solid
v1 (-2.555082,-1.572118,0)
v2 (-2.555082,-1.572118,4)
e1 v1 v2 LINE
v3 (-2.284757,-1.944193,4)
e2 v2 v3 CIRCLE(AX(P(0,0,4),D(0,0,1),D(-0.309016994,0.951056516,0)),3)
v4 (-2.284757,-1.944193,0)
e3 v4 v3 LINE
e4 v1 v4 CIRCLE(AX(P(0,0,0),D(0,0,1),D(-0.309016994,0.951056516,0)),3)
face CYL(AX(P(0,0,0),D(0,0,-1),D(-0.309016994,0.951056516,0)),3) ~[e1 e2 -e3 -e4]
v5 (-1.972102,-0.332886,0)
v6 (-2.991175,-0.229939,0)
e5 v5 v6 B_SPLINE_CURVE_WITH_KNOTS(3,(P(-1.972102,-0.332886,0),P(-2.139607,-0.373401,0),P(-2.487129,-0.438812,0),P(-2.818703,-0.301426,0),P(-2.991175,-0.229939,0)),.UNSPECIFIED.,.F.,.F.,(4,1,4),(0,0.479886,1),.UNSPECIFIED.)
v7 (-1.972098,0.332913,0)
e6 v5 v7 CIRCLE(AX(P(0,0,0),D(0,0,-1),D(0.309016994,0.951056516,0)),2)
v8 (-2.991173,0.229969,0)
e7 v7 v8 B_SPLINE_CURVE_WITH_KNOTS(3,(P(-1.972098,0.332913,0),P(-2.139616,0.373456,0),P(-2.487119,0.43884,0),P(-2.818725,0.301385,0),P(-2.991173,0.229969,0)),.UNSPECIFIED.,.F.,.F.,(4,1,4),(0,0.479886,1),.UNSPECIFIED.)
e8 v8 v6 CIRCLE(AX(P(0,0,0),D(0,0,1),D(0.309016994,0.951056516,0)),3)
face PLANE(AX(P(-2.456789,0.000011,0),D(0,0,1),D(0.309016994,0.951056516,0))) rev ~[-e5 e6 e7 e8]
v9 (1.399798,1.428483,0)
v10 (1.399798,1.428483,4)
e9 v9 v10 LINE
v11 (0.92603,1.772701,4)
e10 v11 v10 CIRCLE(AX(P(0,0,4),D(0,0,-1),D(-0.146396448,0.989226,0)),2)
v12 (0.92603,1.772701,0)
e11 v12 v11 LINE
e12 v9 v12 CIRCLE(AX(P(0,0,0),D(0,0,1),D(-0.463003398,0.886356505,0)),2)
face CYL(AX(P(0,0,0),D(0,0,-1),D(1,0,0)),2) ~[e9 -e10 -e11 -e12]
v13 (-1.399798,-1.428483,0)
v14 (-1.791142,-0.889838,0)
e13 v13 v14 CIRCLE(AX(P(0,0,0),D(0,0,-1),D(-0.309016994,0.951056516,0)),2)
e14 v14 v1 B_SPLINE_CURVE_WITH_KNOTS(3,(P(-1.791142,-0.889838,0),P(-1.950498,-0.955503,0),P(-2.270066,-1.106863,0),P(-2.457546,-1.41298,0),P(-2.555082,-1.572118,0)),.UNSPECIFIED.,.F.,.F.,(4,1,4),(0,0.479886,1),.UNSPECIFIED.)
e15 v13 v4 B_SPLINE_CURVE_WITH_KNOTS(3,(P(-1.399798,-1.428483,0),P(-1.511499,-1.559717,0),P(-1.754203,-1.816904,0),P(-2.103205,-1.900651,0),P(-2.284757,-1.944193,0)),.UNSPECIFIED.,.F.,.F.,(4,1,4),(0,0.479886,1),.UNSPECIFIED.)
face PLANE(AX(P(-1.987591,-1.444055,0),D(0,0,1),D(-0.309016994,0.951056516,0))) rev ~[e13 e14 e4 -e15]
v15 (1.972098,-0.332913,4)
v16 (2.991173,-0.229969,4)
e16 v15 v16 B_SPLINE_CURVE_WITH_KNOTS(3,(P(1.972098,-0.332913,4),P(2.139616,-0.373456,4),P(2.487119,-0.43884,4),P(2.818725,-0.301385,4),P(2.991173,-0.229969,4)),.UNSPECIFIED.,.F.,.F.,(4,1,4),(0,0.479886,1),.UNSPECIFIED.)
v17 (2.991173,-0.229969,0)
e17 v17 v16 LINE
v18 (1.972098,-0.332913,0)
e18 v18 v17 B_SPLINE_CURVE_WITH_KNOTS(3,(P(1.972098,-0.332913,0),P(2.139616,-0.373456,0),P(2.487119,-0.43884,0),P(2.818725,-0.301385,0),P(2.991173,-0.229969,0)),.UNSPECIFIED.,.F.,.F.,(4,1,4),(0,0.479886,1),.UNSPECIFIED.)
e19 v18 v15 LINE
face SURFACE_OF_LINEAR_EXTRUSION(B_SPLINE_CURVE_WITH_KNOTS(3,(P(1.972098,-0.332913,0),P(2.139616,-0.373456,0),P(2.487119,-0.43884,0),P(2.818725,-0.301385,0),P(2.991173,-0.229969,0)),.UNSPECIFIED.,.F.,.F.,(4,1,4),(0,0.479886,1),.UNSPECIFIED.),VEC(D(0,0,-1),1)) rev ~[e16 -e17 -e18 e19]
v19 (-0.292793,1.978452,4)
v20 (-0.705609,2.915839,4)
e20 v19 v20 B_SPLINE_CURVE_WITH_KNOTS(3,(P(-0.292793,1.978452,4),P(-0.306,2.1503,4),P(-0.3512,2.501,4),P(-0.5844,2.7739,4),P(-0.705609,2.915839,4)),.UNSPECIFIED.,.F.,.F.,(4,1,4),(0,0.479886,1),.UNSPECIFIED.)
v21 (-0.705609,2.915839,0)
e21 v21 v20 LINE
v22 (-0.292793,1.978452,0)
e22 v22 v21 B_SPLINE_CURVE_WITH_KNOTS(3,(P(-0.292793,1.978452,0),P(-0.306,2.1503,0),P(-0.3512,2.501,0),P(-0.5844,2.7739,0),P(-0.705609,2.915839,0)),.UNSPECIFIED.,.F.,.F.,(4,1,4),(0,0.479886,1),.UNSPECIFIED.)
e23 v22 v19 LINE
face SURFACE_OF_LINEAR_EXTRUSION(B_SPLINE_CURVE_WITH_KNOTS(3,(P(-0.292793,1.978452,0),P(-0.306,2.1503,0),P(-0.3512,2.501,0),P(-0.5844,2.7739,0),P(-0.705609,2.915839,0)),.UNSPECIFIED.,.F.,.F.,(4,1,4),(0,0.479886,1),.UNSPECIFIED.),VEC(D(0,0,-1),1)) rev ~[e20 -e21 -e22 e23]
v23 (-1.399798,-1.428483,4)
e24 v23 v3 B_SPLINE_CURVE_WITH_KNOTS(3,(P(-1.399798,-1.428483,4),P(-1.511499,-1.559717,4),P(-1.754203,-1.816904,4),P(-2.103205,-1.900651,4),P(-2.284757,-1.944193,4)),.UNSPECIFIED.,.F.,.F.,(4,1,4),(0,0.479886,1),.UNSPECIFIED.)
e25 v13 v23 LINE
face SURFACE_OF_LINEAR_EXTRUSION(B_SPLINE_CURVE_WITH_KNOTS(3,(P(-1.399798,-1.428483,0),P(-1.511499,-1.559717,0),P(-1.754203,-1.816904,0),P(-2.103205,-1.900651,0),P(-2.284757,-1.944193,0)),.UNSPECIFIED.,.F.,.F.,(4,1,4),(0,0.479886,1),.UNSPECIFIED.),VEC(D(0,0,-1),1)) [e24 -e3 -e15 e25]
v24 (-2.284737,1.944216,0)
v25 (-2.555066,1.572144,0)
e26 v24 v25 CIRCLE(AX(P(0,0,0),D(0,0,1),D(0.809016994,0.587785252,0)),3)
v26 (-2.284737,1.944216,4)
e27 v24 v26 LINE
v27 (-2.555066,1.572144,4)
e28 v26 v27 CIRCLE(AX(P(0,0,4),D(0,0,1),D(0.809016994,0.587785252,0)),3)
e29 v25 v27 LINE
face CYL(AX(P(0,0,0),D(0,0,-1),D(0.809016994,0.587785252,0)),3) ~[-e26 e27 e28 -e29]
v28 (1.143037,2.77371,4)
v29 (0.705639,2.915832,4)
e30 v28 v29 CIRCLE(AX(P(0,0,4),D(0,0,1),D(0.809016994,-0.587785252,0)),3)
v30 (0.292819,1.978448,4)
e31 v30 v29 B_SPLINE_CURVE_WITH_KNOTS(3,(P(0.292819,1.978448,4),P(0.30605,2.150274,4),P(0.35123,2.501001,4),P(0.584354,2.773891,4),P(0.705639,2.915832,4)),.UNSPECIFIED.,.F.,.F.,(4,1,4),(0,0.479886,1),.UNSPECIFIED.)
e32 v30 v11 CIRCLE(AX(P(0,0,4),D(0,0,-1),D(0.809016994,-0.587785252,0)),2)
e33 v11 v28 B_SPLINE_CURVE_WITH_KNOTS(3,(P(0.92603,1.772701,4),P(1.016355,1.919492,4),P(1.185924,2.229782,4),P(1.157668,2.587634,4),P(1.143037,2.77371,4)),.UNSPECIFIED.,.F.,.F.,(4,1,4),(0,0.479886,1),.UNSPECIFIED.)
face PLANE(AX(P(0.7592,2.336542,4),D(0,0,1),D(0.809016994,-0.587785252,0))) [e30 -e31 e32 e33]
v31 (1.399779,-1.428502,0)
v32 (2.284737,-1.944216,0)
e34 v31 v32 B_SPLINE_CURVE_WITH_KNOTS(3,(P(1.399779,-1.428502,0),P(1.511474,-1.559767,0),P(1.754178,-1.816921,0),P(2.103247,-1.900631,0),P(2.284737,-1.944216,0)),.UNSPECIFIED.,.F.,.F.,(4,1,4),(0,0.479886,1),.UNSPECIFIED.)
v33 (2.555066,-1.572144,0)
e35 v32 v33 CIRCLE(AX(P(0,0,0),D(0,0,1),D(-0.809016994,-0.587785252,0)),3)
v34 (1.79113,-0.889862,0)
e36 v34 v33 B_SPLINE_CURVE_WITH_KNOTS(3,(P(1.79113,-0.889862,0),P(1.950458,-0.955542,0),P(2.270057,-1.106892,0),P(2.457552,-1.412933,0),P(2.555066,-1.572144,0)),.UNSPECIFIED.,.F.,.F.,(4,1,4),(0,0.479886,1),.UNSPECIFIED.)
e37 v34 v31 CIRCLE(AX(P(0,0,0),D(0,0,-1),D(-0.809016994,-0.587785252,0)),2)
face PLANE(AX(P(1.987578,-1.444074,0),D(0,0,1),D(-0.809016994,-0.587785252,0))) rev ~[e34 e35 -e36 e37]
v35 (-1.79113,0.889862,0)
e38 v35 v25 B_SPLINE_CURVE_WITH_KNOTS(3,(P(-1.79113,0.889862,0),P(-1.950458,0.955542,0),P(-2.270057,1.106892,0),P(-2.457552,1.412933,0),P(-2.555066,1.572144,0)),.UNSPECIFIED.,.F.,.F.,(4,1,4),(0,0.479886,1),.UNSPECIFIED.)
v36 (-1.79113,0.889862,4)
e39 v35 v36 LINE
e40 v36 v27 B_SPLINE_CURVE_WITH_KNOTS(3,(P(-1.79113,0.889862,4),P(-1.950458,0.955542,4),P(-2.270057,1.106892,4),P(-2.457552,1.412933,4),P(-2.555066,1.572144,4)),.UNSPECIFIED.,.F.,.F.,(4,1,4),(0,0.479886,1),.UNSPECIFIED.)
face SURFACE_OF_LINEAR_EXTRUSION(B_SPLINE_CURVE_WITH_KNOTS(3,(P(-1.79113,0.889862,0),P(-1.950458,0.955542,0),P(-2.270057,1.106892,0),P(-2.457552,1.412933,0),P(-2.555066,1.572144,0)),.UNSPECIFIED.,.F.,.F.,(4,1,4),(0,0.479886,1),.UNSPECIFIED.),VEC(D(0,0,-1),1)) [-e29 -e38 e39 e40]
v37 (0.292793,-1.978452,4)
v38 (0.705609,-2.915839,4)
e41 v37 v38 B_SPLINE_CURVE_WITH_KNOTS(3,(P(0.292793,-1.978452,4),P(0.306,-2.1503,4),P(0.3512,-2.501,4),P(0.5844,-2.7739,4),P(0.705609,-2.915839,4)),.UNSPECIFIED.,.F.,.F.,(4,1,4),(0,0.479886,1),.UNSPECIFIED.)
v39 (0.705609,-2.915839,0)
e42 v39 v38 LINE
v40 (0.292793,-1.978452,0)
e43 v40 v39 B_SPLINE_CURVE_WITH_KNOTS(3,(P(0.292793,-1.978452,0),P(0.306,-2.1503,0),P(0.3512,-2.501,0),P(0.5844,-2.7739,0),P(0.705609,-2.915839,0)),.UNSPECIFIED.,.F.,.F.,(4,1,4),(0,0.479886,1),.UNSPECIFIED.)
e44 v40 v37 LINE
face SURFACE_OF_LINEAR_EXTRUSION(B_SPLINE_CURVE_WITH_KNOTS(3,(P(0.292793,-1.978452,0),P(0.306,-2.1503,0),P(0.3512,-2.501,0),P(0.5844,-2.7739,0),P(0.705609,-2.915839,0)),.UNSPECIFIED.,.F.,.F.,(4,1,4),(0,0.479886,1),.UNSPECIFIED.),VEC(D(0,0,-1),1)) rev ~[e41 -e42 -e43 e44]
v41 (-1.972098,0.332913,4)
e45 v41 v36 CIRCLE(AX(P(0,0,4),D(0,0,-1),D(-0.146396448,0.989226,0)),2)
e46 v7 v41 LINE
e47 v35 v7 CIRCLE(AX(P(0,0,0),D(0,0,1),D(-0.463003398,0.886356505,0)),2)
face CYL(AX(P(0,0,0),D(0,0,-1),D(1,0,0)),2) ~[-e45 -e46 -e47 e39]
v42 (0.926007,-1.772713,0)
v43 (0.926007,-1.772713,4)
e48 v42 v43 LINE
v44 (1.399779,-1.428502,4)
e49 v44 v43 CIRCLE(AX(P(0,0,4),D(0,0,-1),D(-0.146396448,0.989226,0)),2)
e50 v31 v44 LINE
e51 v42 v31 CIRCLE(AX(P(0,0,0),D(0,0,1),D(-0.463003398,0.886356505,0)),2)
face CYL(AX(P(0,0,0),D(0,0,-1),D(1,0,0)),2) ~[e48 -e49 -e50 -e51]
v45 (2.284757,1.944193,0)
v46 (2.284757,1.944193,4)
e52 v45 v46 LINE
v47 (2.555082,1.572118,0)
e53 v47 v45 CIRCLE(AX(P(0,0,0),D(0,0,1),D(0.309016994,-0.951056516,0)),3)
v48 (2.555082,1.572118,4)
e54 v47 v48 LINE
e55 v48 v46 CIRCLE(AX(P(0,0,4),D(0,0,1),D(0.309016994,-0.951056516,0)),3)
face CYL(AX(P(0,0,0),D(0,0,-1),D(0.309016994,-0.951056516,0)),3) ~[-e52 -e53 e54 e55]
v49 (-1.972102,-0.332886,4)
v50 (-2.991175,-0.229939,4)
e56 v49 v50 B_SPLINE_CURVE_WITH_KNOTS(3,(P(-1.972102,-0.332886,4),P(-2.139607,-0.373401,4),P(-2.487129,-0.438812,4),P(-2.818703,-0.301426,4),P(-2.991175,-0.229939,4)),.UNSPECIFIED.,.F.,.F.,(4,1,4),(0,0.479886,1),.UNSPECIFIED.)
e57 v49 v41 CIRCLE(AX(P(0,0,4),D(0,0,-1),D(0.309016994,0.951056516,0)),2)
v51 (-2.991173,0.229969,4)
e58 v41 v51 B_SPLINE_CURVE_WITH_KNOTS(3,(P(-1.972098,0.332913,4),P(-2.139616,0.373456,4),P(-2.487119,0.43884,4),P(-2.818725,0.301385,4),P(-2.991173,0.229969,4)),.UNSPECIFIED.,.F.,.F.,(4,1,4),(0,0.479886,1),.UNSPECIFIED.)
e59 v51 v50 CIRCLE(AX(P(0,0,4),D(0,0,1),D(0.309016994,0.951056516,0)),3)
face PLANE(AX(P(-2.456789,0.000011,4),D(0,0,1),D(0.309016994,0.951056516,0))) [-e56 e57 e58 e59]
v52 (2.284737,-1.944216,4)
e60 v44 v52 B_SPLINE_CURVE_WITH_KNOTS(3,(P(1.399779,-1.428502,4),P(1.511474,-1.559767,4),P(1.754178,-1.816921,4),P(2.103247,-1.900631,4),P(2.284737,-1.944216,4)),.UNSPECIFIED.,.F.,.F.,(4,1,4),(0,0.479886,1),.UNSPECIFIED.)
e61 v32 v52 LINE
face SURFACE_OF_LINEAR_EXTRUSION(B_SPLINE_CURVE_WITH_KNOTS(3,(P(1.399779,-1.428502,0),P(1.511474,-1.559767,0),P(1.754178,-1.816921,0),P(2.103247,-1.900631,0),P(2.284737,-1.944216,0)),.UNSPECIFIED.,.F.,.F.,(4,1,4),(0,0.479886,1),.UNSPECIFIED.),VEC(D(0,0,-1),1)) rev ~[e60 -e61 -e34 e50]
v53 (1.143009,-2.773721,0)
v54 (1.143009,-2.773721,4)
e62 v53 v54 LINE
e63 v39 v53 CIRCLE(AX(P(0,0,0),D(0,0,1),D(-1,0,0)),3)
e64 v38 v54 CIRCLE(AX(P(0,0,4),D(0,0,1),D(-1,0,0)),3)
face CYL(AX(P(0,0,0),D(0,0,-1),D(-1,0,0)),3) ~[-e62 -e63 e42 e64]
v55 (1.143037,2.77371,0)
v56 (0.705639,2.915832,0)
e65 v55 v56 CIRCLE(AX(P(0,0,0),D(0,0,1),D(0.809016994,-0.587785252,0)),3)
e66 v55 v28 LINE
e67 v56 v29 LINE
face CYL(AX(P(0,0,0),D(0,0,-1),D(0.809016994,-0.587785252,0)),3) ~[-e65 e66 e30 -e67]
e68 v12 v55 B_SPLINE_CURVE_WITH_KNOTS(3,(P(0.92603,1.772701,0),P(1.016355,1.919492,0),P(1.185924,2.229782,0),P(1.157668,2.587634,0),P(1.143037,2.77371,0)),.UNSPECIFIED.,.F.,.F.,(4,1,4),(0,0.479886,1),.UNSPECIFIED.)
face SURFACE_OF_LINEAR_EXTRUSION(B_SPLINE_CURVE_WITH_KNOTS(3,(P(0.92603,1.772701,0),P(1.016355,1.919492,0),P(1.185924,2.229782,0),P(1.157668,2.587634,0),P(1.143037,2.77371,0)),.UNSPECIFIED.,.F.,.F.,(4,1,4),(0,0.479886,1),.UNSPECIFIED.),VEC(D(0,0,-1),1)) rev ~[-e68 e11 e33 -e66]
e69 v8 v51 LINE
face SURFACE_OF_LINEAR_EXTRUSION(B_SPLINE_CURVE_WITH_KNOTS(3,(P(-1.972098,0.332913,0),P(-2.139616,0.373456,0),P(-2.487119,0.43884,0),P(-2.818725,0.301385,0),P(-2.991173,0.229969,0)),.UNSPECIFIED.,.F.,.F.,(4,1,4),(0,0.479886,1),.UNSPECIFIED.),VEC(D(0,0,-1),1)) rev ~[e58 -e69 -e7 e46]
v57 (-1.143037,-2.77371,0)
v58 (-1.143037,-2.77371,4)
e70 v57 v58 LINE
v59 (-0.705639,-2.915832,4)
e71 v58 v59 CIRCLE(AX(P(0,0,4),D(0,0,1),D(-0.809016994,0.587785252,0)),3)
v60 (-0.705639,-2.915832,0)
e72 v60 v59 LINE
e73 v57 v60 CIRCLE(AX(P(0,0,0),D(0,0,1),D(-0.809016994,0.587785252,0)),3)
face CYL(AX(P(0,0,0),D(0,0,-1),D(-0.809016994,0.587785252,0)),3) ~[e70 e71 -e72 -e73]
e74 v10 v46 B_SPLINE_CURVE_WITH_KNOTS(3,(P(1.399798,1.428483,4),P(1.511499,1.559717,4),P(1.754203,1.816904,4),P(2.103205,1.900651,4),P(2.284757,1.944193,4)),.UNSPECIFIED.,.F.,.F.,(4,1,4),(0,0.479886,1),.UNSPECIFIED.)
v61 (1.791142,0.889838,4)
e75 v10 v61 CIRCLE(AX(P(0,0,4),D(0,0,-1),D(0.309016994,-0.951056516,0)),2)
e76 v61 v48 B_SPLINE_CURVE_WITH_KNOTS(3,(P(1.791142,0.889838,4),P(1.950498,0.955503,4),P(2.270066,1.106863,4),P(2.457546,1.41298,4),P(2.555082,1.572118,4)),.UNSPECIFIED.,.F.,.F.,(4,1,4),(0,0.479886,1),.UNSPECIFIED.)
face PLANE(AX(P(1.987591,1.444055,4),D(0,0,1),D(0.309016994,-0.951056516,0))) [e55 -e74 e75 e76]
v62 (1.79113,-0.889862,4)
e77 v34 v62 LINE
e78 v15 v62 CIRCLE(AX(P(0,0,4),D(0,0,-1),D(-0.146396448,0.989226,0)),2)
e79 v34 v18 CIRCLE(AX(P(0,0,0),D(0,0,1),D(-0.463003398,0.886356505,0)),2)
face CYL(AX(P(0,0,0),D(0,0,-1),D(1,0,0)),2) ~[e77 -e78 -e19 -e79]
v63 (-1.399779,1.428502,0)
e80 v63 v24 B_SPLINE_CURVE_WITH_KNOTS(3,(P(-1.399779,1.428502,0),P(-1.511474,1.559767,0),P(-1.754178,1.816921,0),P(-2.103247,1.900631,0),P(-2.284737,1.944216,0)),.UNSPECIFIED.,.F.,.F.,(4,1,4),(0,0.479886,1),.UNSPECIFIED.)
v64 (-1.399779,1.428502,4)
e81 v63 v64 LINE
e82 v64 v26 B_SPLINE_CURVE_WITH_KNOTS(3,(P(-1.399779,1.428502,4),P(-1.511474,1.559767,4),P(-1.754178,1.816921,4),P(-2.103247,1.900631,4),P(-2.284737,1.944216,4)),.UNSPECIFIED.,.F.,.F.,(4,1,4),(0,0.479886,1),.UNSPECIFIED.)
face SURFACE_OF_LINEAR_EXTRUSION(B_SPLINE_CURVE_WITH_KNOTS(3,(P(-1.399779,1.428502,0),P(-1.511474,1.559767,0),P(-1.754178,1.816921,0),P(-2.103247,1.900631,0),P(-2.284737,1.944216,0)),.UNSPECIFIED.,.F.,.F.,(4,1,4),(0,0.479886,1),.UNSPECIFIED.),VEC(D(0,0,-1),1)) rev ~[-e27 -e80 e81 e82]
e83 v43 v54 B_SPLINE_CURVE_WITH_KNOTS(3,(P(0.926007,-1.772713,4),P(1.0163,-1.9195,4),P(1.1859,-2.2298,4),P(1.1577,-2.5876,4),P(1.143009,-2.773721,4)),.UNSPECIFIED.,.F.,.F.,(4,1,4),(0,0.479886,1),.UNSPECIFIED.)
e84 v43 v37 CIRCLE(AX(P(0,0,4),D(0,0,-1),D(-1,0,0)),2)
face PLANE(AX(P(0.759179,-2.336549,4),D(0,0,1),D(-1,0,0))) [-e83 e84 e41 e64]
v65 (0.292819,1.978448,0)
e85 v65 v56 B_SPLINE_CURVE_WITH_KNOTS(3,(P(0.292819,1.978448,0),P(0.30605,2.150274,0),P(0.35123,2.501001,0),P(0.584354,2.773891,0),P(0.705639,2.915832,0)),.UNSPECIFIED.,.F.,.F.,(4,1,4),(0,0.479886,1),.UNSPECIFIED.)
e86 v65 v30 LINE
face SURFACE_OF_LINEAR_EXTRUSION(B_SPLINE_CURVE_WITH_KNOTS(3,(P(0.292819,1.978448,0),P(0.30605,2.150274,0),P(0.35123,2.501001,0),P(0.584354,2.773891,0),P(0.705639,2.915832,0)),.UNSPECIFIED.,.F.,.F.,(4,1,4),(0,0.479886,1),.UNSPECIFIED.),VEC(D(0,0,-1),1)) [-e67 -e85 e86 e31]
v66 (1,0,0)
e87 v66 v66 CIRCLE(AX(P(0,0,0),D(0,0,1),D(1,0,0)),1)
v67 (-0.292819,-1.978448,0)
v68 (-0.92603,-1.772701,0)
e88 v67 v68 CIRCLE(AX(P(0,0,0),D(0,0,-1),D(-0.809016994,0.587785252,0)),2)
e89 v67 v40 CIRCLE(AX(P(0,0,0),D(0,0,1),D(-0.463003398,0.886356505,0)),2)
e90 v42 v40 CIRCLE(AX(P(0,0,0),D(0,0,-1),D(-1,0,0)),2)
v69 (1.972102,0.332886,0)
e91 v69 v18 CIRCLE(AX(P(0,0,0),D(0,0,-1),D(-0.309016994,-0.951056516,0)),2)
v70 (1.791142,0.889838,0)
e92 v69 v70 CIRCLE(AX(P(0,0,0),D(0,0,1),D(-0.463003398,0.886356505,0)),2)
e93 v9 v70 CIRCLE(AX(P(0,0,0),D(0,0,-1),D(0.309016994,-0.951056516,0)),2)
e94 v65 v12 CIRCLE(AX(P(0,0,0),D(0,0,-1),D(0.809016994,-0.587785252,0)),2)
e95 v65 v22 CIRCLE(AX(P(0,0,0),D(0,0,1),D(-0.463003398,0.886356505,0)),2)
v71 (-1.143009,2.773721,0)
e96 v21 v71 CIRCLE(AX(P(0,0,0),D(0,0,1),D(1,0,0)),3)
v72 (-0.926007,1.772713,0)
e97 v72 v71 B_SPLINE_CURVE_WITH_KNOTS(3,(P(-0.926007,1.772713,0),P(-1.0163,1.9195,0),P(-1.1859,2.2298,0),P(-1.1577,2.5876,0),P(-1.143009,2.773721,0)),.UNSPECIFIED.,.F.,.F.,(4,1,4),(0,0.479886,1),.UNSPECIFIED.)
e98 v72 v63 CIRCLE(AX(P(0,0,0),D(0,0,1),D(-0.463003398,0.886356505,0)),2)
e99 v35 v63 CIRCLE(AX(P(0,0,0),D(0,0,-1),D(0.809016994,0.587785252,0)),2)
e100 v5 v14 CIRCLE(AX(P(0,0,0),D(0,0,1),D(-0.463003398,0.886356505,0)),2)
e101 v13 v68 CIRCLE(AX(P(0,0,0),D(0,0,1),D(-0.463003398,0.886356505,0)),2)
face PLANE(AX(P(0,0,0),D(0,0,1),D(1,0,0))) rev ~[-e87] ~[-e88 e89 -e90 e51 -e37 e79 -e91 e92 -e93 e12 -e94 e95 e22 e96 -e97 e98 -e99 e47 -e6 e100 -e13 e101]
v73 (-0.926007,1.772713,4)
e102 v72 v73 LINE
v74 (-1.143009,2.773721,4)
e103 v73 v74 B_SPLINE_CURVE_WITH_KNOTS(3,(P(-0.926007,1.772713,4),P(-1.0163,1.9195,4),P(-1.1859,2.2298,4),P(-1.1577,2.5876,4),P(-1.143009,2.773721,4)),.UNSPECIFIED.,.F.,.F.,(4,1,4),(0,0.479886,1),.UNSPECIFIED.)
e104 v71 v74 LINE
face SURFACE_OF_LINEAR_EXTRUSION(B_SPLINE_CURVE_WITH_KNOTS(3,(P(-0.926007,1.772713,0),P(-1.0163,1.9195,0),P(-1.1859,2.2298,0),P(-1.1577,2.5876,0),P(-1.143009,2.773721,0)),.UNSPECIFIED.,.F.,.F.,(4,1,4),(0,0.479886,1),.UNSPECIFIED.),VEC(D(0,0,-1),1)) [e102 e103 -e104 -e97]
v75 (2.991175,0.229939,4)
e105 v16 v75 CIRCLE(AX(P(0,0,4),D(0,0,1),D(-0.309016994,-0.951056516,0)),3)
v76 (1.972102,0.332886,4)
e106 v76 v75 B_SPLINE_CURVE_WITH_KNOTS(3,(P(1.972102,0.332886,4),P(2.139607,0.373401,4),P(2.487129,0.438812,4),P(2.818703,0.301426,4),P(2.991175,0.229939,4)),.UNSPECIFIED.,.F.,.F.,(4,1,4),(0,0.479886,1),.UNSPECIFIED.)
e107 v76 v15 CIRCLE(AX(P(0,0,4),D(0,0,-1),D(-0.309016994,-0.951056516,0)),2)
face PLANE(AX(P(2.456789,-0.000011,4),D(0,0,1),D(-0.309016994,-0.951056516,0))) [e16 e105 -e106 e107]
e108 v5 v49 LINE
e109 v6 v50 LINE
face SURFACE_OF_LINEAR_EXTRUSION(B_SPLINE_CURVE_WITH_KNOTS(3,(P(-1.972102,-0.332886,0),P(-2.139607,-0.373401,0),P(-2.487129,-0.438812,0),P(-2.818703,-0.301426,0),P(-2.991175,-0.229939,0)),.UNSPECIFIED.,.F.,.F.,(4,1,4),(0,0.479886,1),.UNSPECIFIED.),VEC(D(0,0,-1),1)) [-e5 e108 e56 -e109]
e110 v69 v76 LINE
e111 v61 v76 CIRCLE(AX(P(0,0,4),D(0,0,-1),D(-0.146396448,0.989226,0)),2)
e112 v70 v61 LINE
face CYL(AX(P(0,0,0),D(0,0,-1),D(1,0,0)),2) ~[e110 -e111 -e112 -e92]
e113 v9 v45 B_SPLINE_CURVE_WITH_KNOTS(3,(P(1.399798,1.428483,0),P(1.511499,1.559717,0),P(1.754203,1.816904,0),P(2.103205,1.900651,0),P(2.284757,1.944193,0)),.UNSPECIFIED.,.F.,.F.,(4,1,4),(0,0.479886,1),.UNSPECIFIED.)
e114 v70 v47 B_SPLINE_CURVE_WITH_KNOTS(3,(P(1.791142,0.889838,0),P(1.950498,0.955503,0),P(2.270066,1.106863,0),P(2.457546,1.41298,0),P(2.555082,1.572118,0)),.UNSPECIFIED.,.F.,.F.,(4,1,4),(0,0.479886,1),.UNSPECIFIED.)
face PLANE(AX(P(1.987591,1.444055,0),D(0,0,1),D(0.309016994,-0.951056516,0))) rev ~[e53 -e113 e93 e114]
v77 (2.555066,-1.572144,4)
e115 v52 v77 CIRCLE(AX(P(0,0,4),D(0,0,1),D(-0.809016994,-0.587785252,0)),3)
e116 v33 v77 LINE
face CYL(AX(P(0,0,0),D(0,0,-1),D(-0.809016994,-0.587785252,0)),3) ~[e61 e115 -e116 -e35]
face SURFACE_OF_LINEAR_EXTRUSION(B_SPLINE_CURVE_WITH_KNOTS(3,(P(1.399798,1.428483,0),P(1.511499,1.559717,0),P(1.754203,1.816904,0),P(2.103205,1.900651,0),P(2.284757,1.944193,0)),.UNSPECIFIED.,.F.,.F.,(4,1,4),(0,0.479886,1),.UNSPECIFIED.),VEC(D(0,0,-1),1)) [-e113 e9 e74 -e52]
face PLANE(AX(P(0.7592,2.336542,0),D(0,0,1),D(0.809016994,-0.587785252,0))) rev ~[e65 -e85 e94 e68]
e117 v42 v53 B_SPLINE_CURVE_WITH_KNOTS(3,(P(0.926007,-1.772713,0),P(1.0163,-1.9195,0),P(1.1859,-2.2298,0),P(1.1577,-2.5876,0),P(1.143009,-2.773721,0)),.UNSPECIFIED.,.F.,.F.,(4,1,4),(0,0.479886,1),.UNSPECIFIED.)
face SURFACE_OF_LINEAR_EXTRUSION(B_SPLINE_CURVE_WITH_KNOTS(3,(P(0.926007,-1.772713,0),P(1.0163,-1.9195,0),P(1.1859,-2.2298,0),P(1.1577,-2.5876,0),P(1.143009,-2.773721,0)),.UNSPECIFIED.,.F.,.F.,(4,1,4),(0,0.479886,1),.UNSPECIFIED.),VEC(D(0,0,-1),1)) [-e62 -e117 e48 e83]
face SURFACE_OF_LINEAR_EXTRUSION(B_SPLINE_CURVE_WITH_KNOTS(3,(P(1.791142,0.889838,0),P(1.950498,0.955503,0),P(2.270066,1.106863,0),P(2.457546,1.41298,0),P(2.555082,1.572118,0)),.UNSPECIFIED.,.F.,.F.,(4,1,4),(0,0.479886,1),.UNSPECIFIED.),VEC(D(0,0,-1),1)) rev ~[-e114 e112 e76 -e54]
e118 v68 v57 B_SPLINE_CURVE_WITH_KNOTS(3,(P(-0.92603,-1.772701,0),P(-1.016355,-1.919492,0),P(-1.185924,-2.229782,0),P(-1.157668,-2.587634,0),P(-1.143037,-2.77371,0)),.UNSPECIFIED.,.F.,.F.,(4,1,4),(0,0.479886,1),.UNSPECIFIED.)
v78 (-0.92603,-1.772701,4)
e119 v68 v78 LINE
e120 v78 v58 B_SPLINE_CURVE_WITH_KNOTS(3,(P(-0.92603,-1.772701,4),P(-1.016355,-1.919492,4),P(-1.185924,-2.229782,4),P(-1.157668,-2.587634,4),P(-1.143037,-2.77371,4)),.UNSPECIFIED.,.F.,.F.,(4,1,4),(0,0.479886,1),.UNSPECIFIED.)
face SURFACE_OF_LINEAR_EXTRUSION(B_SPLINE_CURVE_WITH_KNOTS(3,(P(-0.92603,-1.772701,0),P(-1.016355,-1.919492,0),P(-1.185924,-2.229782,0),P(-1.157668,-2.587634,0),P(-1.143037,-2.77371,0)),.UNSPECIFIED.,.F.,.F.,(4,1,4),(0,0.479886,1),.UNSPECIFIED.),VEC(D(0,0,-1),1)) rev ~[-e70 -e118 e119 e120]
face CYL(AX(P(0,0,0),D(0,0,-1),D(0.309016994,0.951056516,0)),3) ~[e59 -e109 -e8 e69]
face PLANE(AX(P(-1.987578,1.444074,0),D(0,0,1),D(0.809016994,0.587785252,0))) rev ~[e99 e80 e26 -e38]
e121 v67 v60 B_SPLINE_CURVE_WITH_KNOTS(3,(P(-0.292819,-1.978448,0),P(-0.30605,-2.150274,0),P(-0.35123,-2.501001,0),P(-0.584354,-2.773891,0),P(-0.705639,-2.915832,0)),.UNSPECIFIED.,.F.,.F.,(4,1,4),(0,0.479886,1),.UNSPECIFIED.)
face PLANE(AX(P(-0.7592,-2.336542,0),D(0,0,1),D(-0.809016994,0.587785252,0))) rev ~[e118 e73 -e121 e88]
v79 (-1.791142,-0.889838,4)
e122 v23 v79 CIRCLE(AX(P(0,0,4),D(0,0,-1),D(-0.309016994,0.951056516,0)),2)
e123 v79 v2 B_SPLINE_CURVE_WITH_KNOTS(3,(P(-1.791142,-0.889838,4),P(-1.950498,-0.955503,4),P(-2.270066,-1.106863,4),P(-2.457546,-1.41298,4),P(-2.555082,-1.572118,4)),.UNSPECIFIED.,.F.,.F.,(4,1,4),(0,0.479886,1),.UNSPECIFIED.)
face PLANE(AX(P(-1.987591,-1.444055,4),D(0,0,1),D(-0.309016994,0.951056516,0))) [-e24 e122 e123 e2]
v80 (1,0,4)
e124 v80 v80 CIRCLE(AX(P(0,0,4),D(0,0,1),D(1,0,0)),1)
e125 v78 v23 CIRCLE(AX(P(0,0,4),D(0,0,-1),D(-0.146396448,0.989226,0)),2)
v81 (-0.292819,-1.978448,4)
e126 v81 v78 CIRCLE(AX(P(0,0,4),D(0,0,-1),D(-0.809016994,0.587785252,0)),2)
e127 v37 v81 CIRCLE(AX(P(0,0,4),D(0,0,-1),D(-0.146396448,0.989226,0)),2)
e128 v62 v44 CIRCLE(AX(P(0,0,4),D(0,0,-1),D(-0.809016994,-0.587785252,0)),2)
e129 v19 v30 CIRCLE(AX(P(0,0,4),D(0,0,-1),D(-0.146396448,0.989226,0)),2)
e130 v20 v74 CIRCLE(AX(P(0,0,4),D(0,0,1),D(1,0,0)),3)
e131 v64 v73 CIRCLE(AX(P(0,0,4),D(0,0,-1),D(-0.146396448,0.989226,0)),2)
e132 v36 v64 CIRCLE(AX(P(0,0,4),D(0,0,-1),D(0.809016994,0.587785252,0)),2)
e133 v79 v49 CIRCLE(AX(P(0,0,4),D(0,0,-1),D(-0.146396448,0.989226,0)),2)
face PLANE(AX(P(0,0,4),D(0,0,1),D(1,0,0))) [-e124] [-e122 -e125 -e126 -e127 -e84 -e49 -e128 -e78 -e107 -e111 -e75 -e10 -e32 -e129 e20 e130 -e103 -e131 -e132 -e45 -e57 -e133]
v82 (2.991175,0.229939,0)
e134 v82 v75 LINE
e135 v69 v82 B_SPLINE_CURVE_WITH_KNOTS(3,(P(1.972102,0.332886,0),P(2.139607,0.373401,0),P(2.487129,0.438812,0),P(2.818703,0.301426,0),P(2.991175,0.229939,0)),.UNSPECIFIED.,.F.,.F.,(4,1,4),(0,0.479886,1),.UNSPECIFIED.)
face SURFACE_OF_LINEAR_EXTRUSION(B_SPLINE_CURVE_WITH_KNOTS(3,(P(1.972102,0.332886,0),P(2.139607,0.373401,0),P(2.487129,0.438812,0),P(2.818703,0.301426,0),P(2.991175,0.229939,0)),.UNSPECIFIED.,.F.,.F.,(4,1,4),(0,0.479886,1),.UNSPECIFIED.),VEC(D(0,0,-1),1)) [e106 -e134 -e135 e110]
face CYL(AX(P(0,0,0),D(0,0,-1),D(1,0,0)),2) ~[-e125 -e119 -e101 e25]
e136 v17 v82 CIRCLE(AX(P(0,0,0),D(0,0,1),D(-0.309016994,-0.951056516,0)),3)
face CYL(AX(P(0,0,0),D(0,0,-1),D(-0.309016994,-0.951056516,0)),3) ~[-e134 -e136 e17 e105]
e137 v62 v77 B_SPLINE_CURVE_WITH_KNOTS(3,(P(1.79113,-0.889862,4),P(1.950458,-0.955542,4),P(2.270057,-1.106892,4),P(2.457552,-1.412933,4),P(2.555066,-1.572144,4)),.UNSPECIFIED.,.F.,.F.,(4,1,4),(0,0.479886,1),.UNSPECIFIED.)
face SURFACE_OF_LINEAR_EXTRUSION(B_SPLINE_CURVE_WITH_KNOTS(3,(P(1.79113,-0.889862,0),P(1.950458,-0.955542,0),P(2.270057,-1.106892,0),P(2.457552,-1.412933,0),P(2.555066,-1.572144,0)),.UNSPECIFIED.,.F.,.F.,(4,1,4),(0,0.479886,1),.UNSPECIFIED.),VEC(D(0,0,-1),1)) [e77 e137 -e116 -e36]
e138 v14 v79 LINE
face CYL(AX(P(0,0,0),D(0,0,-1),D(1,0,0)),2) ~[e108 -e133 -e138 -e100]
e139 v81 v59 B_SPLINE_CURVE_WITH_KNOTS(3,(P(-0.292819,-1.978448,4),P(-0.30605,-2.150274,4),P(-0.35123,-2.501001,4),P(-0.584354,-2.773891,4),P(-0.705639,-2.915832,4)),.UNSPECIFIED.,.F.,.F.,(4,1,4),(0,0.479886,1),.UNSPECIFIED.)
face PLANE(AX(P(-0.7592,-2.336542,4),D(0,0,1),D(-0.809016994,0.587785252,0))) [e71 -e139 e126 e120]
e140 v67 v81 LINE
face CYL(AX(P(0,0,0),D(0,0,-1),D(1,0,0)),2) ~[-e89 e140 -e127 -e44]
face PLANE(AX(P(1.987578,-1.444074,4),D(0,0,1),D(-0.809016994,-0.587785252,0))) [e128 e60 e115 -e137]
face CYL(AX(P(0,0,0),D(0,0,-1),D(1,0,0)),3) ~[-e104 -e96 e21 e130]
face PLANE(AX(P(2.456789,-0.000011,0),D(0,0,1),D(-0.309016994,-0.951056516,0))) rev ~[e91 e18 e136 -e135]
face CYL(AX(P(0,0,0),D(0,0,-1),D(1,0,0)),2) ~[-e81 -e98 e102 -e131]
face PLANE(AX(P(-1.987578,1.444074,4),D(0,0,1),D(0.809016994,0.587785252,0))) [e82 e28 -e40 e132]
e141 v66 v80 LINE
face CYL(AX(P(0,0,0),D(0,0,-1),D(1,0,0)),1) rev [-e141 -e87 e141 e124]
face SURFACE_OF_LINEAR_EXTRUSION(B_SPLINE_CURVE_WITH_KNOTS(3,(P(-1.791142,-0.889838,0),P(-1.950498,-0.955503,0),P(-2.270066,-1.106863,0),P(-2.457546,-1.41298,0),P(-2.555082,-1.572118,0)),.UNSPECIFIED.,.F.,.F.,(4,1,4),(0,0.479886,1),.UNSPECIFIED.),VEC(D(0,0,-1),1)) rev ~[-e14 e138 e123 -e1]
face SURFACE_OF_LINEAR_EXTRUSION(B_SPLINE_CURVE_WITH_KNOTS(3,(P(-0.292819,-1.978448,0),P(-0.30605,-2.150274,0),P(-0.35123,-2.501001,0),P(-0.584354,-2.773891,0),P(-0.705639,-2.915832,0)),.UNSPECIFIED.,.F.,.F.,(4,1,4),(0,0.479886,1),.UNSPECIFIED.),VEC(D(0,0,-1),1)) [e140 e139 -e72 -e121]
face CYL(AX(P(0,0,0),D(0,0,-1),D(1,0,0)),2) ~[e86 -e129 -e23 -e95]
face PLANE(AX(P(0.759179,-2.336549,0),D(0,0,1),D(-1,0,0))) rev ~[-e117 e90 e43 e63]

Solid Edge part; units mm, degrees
sketch "Sketch1" plane through (0, 0, 0) normal (0, 0, 1) x (1, 0, 0)
  spline S0 degree 3 poles (-0.2928, 1.9785) (-0.306, 2.1503) (-0.3512, 2.501) (-0.5844, 2.7739) (-0.7056, 2.9158) knots 0 0 0 0 0.479886 1 1 1 1
  arc A0 (-0.7056, 2.9158) -> (-1.143, 2.7737) centre (0, 0) ccw
  spline S1 degree 3 poles (-0.926, 1.7727) (-1.0163, 1.9195) (-1.1859, 2.2298) (-1.1577, 2.5876) (-1.143, 2.7737) knots 0 0 0 0 0.479886 1 1 1 1
  arc A1 (-0.926, 1.7727) -> (-0.2928, 1.9785) centre (0, 0) cw
extrude "Protrusion1" add sketch "Sketch1" along normal blind 4
sketch "Sketch2" plane through (0, 0, 0) normal (0, 0, 1) x (1, 0, 0)
  circle A0 centre (0, 0) radius 1
  circle A1 centre (0, 0) radius 2
extrude "Rad" add sketch "Sketch2" along normal blind 4
pattern_circular "Pattern1" count 10 over 360 about axis through (0, 0, 0) along (0, 0, 1) of "Protrusion1"
